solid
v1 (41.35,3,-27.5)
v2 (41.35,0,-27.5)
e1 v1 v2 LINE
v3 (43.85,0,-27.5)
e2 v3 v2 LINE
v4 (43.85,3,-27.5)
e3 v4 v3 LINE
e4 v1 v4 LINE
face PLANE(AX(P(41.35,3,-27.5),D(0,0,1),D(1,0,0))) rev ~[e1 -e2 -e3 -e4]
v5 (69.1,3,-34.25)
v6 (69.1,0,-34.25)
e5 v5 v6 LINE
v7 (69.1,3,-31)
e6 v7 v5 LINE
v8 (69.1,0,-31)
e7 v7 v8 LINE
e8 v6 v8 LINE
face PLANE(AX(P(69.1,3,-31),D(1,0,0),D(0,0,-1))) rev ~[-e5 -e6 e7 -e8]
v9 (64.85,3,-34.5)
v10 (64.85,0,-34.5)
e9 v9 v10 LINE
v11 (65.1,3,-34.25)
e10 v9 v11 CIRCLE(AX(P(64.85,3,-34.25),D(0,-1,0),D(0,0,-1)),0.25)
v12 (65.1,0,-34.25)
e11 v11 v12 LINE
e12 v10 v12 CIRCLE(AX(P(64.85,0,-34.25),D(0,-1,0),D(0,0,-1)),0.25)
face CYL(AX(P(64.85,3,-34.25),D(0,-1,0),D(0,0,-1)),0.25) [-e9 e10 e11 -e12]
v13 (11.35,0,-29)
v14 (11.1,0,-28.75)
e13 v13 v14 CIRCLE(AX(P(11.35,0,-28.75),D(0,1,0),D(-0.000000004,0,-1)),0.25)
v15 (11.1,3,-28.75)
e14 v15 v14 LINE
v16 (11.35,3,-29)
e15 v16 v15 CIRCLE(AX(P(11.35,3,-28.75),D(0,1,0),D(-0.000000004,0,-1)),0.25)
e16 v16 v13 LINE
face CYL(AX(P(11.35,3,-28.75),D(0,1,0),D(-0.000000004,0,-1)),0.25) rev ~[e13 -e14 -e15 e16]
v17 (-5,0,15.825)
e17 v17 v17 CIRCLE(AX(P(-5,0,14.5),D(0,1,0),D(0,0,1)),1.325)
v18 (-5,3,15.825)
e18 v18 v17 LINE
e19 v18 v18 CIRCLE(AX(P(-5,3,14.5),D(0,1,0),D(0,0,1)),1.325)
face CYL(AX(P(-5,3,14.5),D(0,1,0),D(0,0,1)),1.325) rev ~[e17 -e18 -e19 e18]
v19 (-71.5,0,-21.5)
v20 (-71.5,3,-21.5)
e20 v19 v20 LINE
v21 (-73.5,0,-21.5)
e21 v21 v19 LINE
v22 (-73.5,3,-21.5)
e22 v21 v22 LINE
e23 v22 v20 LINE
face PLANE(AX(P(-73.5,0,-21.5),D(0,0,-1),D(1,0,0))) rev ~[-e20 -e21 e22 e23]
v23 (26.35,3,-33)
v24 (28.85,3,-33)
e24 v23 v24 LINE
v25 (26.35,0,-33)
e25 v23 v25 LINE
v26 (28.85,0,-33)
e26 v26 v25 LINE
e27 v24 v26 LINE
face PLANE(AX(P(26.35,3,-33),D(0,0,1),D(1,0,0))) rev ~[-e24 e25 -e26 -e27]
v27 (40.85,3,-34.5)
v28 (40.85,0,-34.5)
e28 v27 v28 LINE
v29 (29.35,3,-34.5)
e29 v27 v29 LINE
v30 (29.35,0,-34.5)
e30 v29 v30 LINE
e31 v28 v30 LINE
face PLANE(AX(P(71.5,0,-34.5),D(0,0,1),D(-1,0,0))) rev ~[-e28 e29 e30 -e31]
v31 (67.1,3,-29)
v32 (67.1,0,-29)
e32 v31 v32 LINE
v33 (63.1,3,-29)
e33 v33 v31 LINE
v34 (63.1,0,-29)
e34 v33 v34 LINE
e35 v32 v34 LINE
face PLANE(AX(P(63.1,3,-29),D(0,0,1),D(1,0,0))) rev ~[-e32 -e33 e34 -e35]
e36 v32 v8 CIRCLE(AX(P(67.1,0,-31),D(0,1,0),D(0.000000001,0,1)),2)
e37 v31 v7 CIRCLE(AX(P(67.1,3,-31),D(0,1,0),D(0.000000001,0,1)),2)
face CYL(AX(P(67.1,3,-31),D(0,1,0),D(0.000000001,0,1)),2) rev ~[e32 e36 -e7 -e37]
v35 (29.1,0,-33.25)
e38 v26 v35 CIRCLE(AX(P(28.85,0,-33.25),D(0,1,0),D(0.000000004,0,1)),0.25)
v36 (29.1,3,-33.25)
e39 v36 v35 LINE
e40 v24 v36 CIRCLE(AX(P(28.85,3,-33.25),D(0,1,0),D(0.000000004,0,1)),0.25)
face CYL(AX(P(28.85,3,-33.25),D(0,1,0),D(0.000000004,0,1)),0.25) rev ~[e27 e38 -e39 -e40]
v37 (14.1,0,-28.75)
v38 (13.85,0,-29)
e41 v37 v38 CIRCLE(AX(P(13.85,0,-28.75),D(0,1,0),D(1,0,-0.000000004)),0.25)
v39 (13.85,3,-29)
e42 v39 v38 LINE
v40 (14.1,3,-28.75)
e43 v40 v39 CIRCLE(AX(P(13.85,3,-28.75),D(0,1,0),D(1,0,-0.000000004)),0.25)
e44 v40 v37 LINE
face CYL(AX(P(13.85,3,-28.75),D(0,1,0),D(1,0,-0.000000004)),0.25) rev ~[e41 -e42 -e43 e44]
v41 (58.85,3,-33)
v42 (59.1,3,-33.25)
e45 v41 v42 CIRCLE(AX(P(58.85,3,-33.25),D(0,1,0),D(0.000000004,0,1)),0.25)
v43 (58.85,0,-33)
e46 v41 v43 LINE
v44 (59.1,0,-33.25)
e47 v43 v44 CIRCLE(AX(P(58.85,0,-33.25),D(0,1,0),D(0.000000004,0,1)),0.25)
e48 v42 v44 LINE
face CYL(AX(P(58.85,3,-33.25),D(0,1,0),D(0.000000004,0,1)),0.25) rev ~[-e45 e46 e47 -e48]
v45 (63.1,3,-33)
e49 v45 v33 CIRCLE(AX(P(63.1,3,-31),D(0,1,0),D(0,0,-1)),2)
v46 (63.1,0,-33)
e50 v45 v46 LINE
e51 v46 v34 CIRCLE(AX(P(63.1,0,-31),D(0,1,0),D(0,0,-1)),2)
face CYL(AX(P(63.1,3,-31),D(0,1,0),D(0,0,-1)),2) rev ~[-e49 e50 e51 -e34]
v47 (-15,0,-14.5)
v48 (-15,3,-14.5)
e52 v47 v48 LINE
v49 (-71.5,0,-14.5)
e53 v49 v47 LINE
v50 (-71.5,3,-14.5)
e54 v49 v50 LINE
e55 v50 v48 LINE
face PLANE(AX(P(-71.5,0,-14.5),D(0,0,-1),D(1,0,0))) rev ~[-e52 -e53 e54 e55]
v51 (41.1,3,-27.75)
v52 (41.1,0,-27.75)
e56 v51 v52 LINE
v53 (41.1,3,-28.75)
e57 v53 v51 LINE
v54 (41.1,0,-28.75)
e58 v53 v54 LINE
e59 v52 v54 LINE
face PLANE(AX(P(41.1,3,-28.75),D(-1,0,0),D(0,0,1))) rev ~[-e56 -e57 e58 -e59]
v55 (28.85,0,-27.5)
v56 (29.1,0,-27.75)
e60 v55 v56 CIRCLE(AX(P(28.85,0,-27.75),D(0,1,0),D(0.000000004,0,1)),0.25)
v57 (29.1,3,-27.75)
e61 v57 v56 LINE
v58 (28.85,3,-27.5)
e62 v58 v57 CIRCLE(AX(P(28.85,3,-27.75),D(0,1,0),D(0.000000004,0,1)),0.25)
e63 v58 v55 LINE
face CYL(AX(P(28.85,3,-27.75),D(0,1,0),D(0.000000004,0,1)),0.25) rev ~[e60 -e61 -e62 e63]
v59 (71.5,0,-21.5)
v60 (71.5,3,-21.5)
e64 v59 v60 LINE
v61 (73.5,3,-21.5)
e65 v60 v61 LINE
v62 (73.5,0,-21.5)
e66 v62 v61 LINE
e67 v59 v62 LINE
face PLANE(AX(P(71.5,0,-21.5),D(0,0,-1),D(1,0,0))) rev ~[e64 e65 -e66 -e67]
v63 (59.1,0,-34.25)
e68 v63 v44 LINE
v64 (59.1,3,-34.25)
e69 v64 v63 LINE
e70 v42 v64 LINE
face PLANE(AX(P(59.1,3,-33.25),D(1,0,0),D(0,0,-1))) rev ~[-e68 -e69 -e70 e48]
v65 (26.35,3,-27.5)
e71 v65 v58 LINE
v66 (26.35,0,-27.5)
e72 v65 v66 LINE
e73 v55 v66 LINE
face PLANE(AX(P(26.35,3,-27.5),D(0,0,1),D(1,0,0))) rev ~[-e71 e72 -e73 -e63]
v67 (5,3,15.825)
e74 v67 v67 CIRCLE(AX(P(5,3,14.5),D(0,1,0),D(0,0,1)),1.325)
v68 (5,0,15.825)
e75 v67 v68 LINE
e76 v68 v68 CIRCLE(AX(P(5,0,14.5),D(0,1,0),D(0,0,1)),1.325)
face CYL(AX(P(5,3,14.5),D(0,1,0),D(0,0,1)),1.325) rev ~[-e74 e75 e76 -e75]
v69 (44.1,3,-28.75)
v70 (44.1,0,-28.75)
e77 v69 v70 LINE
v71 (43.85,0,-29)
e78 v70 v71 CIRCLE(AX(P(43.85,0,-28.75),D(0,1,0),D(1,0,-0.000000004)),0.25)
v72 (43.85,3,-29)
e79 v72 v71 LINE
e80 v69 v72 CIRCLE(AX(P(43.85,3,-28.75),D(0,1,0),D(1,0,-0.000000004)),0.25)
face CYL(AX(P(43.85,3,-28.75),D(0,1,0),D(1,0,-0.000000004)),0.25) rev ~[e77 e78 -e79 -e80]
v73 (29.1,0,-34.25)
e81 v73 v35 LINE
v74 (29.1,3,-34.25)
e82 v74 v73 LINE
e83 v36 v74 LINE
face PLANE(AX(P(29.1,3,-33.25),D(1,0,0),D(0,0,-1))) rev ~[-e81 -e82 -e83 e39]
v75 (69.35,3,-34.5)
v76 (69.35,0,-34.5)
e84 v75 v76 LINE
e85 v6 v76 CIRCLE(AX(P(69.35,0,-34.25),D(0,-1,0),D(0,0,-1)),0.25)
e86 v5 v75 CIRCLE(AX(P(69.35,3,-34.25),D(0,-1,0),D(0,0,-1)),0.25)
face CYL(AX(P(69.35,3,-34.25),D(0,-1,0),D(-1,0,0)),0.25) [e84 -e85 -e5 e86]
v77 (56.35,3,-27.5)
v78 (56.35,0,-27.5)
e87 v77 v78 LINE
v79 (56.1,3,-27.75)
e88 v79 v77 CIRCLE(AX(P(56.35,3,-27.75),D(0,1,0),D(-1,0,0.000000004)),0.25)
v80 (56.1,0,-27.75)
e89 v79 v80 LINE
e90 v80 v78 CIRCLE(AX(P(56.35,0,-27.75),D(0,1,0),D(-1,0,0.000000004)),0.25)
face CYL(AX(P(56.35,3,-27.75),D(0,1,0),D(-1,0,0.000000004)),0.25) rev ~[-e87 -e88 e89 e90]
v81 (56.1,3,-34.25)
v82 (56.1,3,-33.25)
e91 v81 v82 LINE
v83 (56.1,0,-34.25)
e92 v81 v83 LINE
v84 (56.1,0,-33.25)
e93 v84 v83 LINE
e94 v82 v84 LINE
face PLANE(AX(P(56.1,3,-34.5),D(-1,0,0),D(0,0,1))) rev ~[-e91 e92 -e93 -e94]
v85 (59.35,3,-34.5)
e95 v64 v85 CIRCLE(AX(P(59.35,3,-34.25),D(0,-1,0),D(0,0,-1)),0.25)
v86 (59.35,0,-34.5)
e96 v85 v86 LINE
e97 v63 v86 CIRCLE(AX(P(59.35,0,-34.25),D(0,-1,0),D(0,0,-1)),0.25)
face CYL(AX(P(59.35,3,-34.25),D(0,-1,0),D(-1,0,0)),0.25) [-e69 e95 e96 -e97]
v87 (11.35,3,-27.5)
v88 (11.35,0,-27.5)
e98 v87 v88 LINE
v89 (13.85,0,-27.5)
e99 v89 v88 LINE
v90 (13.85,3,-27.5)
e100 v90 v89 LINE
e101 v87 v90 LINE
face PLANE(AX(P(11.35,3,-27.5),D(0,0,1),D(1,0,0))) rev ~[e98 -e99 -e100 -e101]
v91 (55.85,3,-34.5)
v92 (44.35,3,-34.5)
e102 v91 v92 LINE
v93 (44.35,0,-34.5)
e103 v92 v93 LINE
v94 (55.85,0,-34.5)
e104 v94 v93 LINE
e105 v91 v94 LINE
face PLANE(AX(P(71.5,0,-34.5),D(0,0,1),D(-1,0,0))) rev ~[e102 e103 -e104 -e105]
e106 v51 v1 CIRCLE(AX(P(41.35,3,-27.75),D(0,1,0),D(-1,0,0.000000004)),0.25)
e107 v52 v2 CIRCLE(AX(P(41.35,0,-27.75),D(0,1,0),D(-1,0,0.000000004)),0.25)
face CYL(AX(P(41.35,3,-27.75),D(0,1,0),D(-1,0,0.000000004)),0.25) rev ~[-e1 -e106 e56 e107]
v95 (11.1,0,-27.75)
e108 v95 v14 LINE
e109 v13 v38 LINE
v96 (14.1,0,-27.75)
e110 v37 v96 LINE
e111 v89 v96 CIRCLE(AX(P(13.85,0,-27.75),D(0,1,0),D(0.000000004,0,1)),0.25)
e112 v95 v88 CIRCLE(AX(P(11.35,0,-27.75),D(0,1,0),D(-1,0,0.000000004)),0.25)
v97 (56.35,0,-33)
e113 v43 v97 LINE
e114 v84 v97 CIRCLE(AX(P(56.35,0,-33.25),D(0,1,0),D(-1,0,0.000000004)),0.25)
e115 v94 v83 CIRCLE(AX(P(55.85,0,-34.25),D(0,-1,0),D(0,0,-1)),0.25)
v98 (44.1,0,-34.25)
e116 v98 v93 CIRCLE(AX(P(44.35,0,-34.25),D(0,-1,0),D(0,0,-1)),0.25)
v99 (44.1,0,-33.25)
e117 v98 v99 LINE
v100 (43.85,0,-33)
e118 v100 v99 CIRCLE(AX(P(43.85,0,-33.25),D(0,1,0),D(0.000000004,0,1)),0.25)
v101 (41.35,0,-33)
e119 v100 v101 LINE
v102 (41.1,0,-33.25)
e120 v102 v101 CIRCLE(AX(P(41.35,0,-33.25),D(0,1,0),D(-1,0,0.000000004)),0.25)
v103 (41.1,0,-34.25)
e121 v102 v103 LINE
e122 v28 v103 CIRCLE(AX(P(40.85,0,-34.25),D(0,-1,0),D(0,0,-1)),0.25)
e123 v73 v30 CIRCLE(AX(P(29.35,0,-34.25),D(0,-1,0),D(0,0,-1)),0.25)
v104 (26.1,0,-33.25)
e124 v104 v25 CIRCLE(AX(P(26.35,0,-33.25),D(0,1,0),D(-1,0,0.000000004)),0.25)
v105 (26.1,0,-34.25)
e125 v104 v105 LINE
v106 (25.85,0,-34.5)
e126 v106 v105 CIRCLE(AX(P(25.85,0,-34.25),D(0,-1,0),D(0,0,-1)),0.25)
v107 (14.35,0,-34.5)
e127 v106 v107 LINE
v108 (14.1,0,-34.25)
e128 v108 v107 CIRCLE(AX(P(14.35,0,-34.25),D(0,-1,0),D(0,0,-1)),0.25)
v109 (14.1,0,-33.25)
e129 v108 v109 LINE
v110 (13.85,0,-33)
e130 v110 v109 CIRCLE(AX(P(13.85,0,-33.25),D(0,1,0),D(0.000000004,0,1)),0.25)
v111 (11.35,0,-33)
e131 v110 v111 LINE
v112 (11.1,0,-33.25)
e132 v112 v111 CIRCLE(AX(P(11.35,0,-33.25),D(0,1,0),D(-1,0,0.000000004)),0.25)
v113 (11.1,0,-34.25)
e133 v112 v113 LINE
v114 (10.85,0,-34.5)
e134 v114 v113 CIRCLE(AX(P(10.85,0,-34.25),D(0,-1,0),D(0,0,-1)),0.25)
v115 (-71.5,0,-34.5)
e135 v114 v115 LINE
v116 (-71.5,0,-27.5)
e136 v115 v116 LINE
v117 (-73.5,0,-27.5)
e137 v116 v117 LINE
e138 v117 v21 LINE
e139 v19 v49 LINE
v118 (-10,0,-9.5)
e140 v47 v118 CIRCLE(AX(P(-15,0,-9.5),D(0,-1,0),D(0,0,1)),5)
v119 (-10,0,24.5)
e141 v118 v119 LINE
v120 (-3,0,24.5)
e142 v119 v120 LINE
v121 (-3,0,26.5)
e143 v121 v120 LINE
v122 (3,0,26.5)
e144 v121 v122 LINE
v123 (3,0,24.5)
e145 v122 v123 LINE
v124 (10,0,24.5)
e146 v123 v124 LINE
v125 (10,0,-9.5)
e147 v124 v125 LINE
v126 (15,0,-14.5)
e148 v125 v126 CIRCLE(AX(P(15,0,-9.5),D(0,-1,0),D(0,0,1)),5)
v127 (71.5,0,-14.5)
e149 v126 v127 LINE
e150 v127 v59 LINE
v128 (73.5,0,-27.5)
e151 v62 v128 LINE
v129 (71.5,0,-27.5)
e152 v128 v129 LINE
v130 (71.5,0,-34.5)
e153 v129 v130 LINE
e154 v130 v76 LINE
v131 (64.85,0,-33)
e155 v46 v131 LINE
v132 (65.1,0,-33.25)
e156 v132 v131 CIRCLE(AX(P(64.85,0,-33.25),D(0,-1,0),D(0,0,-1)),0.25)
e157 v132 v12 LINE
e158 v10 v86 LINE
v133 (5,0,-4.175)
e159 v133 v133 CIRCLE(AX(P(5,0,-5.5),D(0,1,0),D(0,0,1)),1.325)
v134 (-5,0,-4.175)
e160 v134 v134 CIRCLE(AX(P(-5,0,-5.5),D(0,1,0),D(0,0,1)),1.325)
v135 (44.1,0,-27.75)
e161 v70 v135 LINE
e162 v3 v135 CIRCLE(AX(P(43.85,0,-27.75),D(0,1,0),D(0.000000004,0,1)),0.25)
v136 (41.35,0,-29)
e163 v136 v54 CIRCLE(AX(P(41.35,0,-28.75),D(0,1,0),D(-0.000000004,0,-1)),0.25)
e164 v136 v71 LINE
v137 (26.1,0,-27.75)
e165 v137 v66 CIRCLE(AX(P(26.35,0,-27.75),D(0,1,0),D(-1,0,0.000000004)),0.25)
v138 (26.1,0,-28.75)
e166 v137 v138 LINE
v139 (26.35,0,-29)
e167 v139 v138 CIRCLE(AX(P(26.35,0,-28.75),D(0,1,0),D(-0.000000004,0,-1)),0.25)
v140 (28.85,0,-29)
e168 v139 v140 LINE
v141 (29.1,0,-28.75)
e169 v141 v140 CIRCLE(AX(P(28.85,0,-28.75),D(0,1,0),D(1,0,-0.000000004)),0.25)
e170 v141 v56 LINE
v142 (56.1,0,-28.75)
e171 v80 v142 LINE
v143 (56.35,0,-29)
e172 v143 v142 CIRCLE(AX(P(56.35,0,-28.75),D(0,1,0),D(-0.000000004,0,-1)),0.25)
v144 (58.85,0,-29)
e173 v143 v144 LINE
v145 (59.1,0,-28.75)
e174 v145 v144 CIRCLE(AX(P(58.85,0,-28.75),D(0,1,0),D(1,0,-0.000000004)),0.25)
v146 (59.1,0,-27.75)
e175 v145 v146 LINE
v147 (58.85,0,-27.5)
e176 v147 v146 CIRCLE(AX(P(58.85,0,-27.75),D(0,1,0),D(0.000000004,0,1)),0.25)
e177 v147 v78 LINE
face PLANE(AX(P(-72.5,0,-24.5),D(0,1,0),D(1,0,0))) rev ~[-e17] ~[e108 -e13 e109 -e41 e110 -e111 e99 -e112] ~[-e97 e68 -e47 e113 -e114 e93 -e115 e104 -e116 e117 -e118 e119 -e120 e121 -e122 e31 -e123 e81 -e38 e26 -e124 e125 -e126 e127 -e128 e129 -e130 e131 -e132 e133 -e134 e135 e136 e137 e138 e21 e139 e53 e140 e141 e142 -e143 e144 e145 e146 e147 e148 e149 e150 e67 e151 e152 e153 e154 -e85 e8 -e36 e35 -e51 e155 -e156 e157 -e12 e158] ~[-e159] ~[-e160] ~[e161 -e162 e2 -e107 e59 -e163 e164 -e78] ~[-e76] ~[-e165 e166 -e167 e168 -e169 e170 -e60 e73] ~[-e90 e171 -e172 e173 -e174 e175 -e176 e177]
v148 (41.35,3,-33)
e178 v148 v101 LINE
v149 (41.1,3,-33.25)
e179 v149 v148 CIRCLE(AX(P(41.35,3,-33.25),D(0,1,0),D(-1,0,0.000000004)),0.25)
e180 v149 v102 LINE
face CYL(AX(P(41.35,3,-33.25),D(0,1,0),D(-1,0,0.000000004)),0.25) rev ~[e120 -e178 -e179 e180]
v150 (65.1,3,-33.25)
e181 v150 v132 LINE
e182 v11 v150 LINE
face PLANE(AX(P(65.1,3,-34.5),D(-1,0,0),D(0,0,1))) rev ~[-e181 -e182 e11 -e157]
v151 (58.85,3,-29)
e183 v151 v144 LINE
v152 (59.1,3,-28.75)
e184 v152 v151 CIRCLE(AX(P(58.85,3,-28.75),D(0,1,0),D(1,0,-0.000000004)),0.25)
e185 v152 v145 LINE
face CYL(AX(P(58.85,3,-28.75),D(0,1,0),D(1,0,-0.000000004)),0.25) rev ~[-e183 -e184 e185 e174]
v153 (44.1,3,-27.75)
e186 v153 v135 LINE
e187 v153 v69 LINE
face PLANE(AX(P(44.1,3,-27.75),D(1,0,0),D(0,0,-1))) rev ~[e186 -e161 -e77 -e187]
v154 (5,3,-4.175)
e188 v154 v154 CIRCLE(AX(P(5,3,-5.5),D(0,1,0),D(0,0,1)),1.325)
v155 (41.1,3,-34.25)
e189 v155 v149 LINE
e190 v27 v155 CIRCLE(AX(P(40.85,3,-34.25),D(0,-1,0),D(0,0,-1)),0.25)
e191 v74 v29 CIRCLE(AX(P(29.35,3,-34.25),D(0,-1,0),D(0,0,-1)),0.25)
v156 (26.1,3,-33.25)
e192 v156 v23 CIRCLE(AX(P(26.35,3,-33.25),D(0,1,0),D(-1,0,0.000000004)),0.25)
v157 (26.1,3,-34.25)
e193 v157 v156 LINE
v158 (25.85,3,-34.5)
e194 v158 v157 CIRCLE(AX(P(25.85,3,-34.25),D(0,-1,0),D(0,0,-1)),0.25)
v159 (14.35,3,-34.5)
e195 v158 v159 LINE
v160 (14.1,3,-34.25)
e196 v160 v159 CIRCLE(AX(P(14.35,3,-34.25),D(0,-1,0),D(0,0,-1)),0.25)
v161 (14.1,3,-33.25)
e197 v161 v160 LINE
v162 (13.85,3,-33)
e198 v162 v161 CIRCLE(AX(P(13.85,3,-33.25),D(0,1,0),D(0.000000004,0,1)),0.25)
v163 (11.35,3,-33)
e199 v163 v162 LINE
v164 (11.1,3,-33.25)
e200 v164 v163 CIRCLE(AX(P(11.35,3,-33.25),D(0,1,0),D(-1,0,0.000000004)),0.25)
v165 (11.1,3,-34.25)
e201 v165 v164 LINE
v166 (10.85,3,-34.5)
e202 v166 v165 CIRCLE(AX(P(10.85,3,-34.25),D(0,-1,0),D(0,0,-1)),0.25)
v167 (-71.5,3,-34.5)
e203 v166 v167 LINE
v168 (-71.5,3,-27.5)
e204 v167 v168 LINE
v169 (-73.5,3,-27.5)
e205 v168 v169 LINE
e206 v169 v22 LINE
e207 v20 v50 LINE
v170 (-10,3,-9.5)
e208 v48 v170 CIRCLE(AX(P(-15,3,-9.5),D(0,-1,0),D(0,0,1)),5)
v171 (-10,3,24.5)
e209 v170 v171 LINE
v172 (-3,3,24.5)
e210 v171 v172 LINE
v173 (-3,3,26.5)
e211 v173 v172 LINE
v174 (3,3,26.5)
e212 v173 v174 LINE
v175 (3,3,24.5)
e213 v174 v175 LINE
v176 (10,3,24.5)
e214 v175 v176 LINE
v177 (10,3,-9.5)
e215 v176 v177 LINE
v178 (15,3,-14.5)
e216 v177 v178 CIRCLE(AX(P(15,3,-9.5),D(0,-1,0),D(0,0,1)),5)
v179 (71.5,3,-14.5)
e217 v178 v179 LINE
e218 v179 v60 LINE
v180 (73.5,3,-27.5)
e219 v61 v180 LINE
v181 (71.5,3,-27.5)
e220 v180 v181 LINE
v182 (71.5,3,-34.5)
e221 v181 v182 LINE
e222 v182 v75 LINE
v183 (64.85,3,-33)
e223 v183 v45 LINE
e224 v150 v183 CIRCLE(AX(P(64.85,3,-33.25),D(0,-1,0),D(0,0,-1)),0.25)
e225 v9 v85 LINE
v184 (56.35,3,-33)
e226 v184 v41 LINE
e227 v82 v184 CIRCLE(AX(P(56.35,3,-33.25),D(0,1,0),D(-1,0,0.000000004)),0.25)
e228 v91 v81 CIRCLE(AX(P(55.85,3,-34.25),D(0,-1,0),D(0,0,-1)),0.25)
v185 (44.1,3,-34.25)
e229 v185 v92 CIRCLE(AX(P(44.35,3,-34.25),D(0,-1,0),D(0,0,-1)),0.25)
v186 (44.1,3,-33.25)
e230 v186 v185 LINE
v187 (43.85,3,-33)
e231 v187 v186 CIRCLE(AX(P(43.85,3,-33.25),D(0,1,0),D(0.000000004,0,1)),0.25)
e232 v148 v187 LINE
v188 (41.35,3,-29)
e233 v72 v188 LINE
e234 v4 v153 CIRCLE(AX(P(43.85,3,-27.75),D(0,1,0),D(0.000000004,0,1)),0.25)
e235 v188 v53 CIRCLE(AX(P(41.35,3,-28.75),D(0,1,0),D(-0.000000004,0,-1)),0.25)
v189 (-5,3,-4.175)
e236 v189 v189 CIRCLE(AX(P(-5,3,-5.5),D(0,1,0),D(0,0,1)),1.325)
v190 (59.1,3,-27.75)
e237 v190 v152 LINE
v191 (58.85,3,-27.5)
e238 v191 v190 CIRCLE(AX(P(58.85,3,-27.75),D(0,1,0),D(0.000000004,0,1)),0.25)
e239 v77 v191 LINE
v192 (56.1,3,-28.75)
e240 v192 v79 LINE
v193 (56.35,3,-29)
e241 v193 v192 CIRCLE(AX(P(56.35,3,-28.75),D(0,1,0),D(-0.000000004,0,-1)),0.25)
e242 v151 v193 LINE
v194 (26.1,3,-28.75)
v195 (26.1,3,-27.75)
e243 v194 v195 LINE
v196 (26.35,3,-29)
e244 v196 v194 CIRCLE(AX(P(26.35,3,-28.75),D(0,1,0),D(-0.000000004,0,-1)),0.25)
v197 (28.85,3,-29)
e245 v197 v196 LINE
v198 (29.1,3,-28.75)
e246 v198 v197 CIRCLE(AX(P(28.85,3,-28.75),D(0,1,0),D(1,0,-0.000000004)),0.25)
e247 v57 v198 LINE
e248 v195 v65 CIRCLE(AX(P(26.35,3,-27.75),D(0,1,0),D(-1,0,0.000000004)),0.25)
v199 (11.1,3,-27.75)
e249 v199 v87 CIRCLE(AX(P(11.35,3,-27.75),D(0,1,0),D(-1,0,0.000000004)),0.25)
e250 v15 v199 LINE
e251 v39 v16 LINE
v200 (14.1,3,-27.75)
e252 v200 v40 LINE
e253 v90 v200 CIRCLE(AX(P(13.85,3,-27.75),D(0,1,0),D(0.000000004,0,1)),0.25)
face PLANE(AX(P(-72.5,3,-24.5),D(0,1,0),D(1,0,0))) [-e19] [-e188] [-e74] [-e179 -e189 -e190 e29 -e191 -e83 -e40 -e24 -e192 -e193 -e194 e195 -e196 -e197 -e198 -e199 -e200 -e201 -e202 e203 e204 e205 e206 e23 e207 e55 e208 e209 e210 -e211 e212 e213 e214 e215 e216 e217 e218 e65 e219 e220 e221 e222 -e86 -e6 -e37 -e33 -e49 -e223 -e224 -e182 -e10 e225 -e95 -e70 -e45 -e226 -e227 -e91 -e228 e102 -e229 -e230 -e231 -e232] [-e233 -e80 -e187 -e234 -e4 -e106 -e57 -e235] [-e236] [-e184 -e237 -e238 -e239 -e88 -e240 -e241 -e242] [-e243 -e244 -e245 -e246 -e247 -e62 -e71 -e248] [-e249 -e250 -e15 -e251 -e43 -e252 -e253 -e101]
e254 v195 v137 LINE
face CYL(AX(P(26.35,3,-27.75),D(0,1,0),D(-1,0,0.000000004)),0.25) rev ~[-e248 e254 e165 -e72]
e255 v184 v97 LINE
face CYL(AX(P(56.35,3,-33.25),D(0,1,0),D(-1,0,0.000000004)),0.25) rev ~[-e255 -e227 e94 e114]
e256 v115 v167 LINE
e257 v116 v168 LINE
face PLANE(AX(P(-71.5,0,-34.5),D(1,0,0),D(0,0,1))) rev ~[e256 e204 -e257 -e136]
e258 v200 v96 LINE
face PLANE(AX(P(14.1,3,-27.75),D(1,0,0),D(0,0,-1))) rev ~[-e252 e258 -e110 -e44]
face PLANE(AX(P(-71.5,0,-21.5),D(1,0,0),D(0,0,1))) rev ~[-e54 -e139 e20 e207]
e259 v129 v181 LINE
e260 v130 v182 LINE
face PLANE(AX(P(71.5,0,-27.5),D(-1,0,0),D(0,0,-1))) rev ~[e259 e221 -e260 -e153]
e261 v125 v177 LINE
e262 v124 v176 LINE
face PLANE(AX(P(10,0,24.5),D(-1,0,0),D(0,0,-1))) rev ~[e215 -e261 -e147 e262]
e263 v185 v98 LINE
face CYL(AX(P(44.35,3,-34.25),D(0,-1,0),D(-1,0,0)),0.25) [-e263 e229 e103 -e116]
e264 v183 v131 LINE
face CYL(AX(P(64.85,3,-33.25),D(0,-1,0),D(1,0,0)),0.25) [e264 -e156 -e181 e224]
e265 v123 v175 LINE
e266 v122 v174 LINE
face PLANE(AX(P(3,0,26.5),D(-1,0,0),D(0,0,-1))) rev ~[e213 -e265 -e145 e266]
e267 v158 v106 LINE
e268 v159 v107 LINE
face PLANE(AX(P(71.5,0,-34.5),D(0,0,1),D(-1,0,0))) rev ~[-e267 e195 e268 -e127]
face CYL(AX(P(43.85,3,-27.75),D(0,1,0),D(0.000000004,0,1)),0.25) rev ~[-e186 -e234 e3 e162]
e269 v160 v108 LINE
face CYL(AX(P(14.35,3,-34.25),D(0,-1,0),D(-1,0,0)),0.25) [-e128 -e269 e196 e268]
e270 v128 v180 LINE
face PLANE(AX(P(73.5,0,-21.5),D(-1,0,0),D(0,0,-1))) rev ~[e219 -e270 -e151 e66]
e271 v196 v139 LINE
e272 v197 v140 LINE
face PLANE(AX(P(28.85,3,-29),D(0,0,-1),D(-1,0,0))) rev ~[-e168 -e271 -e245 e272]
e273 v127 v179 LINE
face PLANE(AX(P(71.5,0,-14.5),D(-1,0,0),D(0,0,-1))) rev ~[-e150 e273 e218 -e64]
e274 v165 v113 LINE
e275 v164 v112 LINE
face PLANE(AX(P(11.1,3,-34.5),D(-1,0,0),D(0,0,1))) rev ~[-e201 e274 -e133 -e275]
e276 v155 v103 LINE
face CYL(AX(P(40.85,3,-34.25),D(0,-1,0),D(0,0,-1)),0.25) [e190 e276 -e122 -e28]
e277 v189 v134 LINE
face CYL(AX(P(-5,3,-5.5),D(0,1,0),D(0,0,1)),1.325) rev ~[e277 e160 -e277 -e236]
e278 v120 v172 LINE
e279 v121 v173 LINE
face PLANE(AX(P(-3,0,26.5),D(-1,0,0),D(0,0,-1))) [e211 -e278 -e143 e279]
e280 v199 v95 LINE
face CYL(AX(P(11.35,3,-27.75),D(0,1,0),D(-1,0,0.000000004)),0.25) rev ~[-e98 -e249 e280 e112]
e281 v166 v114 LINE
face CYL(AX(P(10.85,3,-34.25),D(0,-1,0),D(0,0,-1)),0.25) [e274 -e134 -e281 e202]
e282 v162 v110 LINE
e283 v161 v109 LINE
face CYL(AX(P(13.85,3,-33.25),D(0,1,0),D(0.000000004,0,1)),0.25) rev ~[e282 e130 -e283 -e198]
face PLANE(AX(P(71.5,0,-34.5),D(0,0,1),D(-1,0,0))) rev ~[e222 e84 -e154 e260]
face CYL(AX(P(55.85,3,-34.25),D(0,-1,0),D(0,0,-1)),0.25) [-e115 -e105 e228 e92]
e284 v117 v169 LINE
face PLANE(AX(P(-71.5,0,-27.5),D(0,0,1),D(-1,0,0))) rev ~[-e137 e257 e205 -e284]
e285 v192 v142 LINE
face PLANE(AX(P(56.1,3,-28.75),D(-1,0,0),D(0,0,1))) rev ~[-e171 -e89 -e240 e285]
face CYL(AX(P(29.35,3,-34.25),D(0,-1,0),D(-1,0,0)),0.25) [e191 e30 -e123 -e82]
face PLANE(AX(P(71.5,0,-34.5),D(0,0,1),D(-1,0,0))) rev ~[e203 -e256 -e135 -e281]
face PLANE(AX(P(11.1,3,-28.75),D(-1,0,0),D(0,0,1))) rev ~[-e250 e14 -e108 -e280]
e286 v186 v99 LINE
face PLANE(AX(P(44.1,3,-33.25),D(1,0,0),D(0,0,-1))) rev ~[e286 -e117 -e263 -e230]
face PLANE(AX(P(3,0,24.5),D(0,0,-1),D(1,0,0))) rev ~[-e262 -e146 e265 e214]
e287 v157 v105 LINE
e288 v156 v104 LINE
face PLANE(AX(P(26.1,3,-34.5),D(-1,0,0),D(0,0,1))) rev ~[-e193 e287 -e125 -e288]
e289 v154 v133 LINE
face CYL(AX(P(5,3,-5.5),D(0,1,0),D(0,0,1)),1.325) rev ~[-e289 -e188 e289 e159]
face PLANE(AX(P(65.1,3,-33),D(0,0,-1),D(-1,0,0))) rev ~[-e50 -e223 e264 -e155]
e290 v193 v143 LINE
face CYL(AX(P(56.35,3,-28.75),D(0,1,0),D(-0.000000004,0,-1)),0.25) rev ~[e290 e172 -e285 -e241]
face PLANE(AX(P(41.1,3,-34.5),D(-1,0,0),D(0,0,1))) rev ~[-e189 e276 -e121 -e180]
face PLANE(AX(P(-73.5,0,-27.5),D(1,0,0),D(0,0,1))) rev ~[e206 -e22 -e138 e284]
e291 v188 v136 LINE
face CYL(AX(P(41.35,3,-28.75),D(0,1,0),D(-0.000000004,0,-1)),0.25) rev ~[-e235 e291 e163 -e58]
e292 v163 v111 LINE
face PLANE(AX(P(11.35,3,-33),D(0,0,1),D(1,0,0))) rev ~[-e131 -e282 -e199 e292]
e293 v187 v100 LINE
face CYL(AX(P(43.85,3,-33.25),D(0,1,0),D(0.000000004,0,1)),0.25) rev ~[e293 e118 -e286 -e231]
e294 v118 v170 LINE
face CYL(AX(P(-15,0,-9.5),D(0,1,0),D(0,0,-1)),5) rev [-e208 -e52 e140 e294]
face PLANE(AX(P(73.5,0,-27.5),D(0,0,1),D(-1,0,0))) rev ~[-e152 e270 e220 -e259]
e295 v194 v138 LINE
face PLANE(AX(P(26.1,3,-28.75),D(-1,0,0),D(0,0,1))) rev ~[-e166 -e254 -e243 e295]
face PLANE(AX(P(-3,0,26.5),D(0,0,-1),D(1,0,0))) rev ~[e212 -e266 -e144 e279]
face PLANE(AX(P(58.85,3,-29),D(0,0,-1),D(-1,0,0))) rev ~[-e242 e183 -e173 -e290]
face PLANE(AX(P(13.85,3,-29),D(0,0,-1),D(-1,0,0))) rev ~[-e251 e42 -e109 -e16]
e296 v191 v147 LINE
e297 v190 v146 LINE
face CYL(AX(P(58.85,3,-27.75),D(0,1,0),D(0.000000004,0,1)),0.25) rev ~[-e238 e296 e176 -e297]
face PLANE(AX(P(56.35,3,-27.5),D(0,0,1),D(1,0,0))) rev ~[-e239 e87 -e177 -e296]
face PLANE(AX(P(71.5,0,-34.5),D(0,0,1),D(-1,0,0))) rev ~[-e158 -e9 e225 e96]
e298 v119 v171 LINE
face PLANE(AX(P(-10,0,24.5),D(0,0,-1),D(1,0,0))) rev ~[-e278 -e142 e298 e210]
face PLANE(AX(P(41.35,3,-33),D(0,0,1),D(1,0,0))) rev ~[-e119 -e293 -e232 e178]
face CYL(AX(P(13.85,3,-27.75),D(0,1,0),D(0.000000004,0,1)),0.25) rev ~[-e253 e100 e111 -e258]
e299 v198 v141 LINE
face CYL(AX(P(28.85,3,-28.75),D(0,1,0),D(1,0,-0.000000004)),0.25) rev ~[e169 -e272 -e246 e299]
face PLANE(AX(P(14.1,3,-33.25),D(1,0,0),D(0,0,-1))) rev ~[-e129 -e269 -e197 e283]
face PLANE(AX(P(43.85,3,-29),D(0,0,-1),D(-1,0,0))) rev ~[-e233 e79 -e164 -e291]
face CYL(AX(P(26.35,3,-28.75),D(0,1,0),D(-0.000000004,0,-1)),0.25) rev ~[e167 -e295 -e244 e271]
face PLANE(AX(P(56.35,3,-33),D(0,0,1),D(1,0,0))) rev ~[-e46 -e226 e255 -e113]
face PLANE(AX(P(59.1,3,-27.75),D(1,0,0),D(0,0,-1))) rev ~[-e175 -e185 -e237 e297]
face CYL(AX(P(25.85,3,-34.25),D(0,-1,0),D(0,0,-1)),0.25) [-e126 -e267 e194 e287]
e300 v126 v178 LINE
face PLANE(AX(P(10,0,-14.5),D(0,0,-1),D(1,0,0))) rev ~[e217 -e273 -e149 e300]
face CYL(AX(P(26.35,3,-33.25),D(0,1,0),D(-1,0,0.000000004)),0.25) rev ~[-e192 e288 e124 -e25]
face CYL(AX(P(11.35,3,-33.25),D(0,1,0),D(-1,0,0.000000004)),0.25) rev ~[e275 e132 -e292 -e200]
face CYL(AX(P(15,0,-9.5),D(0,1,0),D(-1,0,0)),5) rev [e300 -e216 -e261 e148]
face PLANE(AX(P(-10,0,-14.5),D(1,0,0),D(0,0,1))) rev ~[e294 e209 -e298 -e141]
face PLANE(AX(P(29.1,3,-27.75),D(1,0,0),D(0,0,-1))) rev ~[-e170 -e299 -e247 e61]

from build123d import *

# Parameters (mm, degrees)
BOSS_EXTRUDE1_DEPTH = 3
FILLET1_R           = 5
CUT_EXTRUDE1_REACH  = 83.25
SKETCH2_R           = 1.325
CUT_EXTRUDE3_REACH  = 83.25
FILLET2_R           = 0.25


with BuildPart() as part:
    # Sketch1 → Boss-Extrude1 (new body)
    with BuildSketch(Plane(origin=(0, 0, 0), x_dir=(1, 0, 0), z_dir=(0, 1, 0))):
        Polygon((-71.5, 34.5), (-71.5, 27.5), (-73.5, 27.5), (-73.5, 21.5), (-71.5, 21.5), (-71.5, 14.5), (-10, 14.5), (-10, -24.5), (-3, -24.5), (-3, -26.5), (3, -26.5), (3, -24.5), (10, -24.5), (10, 14.5), (71.5, 14.5), (71.5, 21.5), (73.5, 21.5), (73.5, 27.5), (71.5, 27.5), (71.5, 34.5), align=None)
    extrude(amount=BOSS_EXTRUDE1_DEPTH)

    # Fillet1
    fillet1_edges = [part.edges().sort_by_distance(p)[0] for p in [
        (-10, 1.5, -14.5),
        (10, 1.5, -14.5),
    ]]
    fillet(fillet1_edges, radius=FILLET1_R)

    # Sketch2 → Cut-Extrude1 (cut, up to next)
    with BuildSketch(Plane(origin=(0, 3, 0), x_dir=(1, 0, 0), z_dir=(0, 1, 0)), mode=Mode.PRIVATE) as cut_extrude1_sk1:
        with Locations((-5, -14.5)):
            Circle(SKETCH2_R)
    cut_extrude1_tool1 = extrude(cut_extrude1_sk1.sketch, amount=-CUT_EXTRUDE1_REACH, mode=Mode.PRIVATE) & part.part
    # Sketch2 → Cut-Extrude1 (cut, up to next)
    with BuildSketch(Plane(origin=(0, 3, 0), x_dir=(1, 0, 0), z_dir=(0, 1, 0)), mode=Mode.PRIVATE) as cut_extrude1_sk2:
        with Locations((-5, 5.5)):
            Circle(SKETCH2_R)
    cut_extrude1_tool2 = extrude(cut_extrude1_sk2.sketch, amount=-CUT_EXTRUDE1_REACH, mode=Mode.PRIVATE) & part.part
    # Sketch2 → Cut-Extrude1 (cut, up to next)
    with BuildSketch(Plane(origin=(0, 3, 0), x_dir=(1, 0, 0), z_dir=(0, 1, 0)), mode=Mode.PRIVATE) as cut_extrude1_sk3:
        with Locations((5, 5.5)):
            Circle(SKETCH2_R)
    cut_extrude1_tool3 = extrude(cut_extrude1_sk3.sketch, amount=-CUT_EXTRUDE1_REACH, mode=Mode.PRIVATE) & part.part
    # Sketch2 → Cut-Extrude1 (cut, up to next)
    with BuildSketch(Plane(origin=(0, 3, 0), x_dir=(1, 0, 0), z_dir=(0, 1, 0)), mode=Mode.PRIVATE) as cut_extrude1_sk4:
        with Locations((5, -14.5)):
            Circle(SKETCH2_R)
    cut_extrude1_tool4 = extrude(cut_extrude1_sk4.sketch, amount=-CUT_EXTRUDE1_REACH, mode=Mode.PRIVATE) & part.part
    add(cut_extrude1_tool1.solids().sort_by_distance((-5, 3, 14.5))[0], mode=Mode.SUBTRACT)
    add(cut_extrude1_tool2.solids().sort_by_distance((-5, 3, -5.5))[0], mode=Mode.SUBTRACT)
    add(cut_extrude1_tool3.solids().sort_by_distance((5, 3, -5.5))[0], mode=Mode.SUBTRACT)
    add(cut_extrude1_tool4.solids().sort_by_distance((5, 3, 14.5))[0], mode=Mode.SUBTRACT)

    # Sketch3 → Cut-Extrude3 (cut, up to next)
    with BuildSketch(Plane(origin=(0, 3, 0), x_dir=(1, 0, 0), z_dir=(0, 1, 0)), mode=Mode.PRIVATE) as cut_extrude3_sk1:
        with BuildLine():
            Line((59.1, 34.5), (56.1, 34.5))
            Line((56.1, 34.5), (56.1, 33.25))
            ThreePointArc((56.1, 33.25), (56.173223305, 33.073223305), (56.35, 33))
            Line((56.35, 33), (58.85, 33))
            ThreePointArc((58.85, 33), (59.026776695, 33.073223305), (59.1, 33.25))
            Line((59.1, 33.25), (59.1, 34.5))
        make_face()
    cut_extrude3_tool1 = extrude(cut_extrude3_sk1.sketch, amount=-CUT_EXTRUDE3_REACH, mode=Mode.PRIVATE) & part.part
    # Sketch3 → Cut-Extrude3 (cut, up to next)
    with BuildSketch(Plane(origin=(0, 3, 0), x_dir=(1, 0, 0), z_dir=(0, 1, 0)), mode=Mode.PRIVATE) as cut_extrude3_sk2:
        with BuildLine():
            Line((65.1, 33), (63.1, 33))
            ThreePointArc((63.1, 33), (61.1, 31), (63.1, 29))
            Line((63.1, 29), (67.1, 29))
            ThreePointArc((67.1, 29), (68.514213562, 29.585786438), (69.1, 31))
            Line((69.1, 31), (69.1, 34.5))
            Line((69.1, 34.5), (65.1, 34.5))
            Line((65.1, 34.5), (65.1, 33))
        make_face()
    cut_extrude3_tool2 = extrude(cut_extrude3_sk2.sketch, amount=-CUT_EXTRUDE3_REACH, mode=Mode.PRIVATE) & part.part
    # Sketch3 → Cut-Extrude3 (cut, up to next)
    with BuildSketch(Plane(origin=(0, 3, 0), x_dir=(1, 0, 0), z_dir=(0, 1, 0)), mode=Mode.PRIVATE) as cut_extrude3_sk3:
        with BuildLine():
            Line((56.1, 28.75), (56.1, 27.75))
            ThreePointArc((56.1, 27.75), (56.173223305, 27.573223305), (56.35, 27.5))
            Line((56.35, 27.5), (58.85, 27.5))
            ThreePointArc((58.85, 27.5), (59.026776695, 27.573223305), (59.1, 27.75))
            Line((59.1, 27.75), (59.1, 28.75))
            ThreePointArc((59.1, 28.75), (59.026776695, 28.926776695), (58.85, 29))
            Line((58.85, 29), (56.35, 29))
            ThreePointArc((56.35, 29), (56.173223305, 28.926776695), (56.1, 28.75))
        make_face()
    cut_extrude3_tool3 = extrude(cut_extrude3_sk3.sketch, amount=-CUT_EXTRUDE3_REACH, mode=Mode.PRIVATE) & part.part
    # Sketch3 → Cut-Extrude3 (cut, up to next)
    with BuildSketch(Plane(origin=(0, 3, 0), x_dir=(1, 0, 0), z_dir=(0, 1, 0)), mode=Mode.PRIVATE) as cut_extrude3_sk4:
        with BuildLine():
            ThreePointArc((41.1, 27.75), (41.173223305, 27.573223305), (41.35, 27.5))
            Line((41.35, 27.5), (43.85, 27.5))
            ThreePointArc((43.85, 27.5), (44.026776695, 27.573223305), (44.1, 27.75))
            Line((44.1, 27.75), (44.1, 28.75))
            ThreePointArc((44.1, 28.75), (44.026776695, 28.926776695), (43.85, 29))
            Line((43.85, 29), (41.35, 29))
            ThreePointArc((41.35, 29), (41.173223305, 28.926776695), (41.1, 28.75))
            Line((41.1, 28.75), (41.1, 27.75))
        make_face()
    cut_extrude3_tool4 = extrude(cut_extrude3_sk4.sketch, amount=-CUT_EXTRUDE3_REACH, mode=Mode.PRIVATE) & part.part
    # Sketch3 → Cut-Extrude3 (cut, up to next)
    with BuildSketch(Plane(origin=(0, 3, 0), x_dir=(1, 0, 0), z_dir=(0, 1, 0)), mode=Mode.PRIVATE) as cut_extrude3_sk5:
        with BuildLine():
            ThreePointArc((41.1, 33.25), (41.173223305, 33.073223305), (41.35, 33))
            Line((41.35, 33), (43.85, 33))
            ThreePointArc((43.85, 33), (44.026776695, 33.073223305), (44.1, 33.25))
            Line((44.1, 33.25), (44.1, 34.5))
            Line((44.1, 34.5), (41.1, 34.5))
            Line((41.1, 34.5), (41.1, 33.25))
        make_face()
    cut_extrude3_tool5 = extrude(cut_extrude3_sk5.sketch, amount=-CUT_EXTRUDE3_REACH, mode=Mode.PRIVATE) & part.part
    # Sketch3 → Cut-Extrude3 (cut, up to next)
    with BuildSketch(Plane(origin=(0, 3, 0), x_dir=(1, 0, 0), z_dir=(0, 1, 0)), mode=Mode.PRIVATE) as cut_extrude3_sk6:
        with BuildLine():
            ThreePointArc((26.1, 27.75), (26.173223305, 27.573223305), (26.35, 27.5))
            Line((26.35, 27.5), (28.85, 27.5))
            ThreePointArc((28.85, 27.5), (29.026776695, 27.573223305), (29.1, 27.75))
            Line((29.1, 27.75), (29.1, 28.75))
            ThreePointArc((29.1, 28.75), (29.026776695, 28.926776695), (28.85, 29))
            Line((28.85, 29), (26.35, 29))
            ThreePointArc((26.35, 29), (26.173223305, 28.926776695), (26.1, 28.75))
            Line((26.1, 28.75), (26.1, 27.75))
        make_face()
    cut_extrude3_tool6 = extrude(cut_extrude3_sk6.sketch, amount=-CUT_EXTRUDE3_REACH, mode=Mode.PRIVATE) & part.part
    # Sketch3 → Cut-Extrude3 (cut, up to next)
    with BuildSketch(Plane(origin=(0, 3, 0), x_dir=(1, 0, 0), z_dir=(0, 1, 0)), mode=Mode.PRIVATE) as cut_extrude3_sk7:
        with BuildLine():
            ThreePointArc((26.1, 33.25), (26.173223305, 33.073223305), (26.35, 33))
            Line((26.35, 33), (28.85, 33))
            ThreePointArc((28.85, 33), (29.026776695, 33.073223305), (29.1, 33.25))
            Line((29.1, 33.25), (29.1, 34.5))
            Line((29.1, 34.5), (26.1, 34.5))
            Line((26.1, 34.5), (26.1, 33.25))
        make_face()
    cut_extrude3_tool7 = extrude(cut_extrude3_sk7.sketch, amount=-CUT_EXTRUDE3_REACH, mode=Mode.PRIVATE) & part.part
    # Sketch3 → Cut-Extrude3 (cut, up to next)
    with BuildSketch(Plane(origin=(0, 3, 0), x_dir=(1, 0, 0), z_dir=(0, 1, 0)), mode=Mode.PRIVATE) as cut_extrude3_sk8:
        with BuildLine():
            ThreePointArc((11.1, 27.75), (11.173223305, 27.573223305), (11.35, 27.5))
            Line((11.35, 27.5), (13.85, 27.5))
            ThreePointArc((13.85, 27.5), (14.026776695, 27.573223305), (14.1, 27.75))
            Line((14.1, 27.75), (14.1, 28.75))
            ThreePointArc((14.1, 28.75), (14.026776695, 28.926776695), (13.85, 29))
            Line((13.85, 29), (11.35, 29))
            ThreePointArc((11.35, 29), (11.173223305, 28.926776695), (11.1, 28.75))
            Line((11.1, 28.75), (11.1, 27.75))
        make_face()
    cut_extrude3_tool8 = extrude(cut_extrude3_sk8.sketch, amount=-CUT_EXTRUDE3_REACH, mode=Mode.PRIVATE) & part.part
    # Sketch3 → Cut-Extrude3 (cut, up to next)
    with BuildSketch(Plane(origin=(0, 3, 0), x_dir=(1, 0, 0), z_dir=(0, 1, 0)), mode=Mode.PRIVATE) as cut_extrude3_sk9:
        with BuildLine():
            ThreePointArc((11.1, 33.25), (11.173223305, 33.073223305), (11.35, 33))
            Line((11.35, 33), (13.85, 33))
            ThreePointArc((13.85, 33), (14.026776695, 33.073223305), (14.1, 33.25))
            Line((14.1, 33.25), (14.1, 34.5))
            Line((14.1, 34.5), (11.1, 34.5))
            Line((11.1, 34.5), (11.1, 33.25))
        make_face()
    cut_extrude3_tool9 = extrude(cut_extrude3_sk9.sketch, amount=-CUT_EXTRUDE3_REACH, mode=Mode.PRIVATE) & part.part
    add(cut_extrude3_tool1.solids().sort_by_distance((57.6, 3, -33.754163))[0], mode=Mode.SUBTRACT)
    add(cut_extrude3_tool2.solids().sort_by_distance((65.524848, 3, -31.503414))[0], mode=Mode.SUBTRACT)
    add(cut_extrude3_tool3.solids().sort_by_distance((57.6, 3, -28.25))[0], mode=Mode.SUBTRACT)
    add(cut_extrude3_tool4.solids().sort_by_distance((42.6, 3, -28.25))[0], mode=Mode.SUBTRACT)
    add(cut_extrude3_tool5.solids().sort_by_distance((42.6, 3, -33.754163))[0], mode=Mode.SUBTRACT)
    add(cut_extrude3_tool6.solids().sort_by_distance((27.6, 3, -28.25))[0], mode=Mode.SUBTRACT)
    add(cut_extrude3_tool7.solids().sort_by_distance((27.6, 3, -33.754163))[0], mode=Mode.SUBTRACT)
    add(cut_extrude3_tool8.solids().sort_by_distance((12.6, 3, -28.25))[0], mode=Mode.SUBTRACT)
    add(cut_extrude3_tool9.solids().sort_by_distance((12.6, 3, -33.754163))[0], mode=Mode.SUBTRACT)

    # Fillet2
    fillet2_edges = [part.edges().sort_by_distance(p)[0] for p in [
        (26.1, 1.5, -34.5),
        (29.1, 1.5, -34.5),
        (41.1, 1.5, -34.5),
        (44.1, 1.5, -34.5),
        (56.1, 1.5, -34.5),
        (59.1, 1.5, -34.5),
        (69.1, 1.5, -34.5),
        (65.1, 1.5, -34.5),
        (65.1, 1.5, -33),
        (14.1, 1.5, -34.5),
        (11.1, 1.5, -34.5),
    ]]
    fillet(fillet2_edges, radius=FILLET2_R)


solid = part.part
